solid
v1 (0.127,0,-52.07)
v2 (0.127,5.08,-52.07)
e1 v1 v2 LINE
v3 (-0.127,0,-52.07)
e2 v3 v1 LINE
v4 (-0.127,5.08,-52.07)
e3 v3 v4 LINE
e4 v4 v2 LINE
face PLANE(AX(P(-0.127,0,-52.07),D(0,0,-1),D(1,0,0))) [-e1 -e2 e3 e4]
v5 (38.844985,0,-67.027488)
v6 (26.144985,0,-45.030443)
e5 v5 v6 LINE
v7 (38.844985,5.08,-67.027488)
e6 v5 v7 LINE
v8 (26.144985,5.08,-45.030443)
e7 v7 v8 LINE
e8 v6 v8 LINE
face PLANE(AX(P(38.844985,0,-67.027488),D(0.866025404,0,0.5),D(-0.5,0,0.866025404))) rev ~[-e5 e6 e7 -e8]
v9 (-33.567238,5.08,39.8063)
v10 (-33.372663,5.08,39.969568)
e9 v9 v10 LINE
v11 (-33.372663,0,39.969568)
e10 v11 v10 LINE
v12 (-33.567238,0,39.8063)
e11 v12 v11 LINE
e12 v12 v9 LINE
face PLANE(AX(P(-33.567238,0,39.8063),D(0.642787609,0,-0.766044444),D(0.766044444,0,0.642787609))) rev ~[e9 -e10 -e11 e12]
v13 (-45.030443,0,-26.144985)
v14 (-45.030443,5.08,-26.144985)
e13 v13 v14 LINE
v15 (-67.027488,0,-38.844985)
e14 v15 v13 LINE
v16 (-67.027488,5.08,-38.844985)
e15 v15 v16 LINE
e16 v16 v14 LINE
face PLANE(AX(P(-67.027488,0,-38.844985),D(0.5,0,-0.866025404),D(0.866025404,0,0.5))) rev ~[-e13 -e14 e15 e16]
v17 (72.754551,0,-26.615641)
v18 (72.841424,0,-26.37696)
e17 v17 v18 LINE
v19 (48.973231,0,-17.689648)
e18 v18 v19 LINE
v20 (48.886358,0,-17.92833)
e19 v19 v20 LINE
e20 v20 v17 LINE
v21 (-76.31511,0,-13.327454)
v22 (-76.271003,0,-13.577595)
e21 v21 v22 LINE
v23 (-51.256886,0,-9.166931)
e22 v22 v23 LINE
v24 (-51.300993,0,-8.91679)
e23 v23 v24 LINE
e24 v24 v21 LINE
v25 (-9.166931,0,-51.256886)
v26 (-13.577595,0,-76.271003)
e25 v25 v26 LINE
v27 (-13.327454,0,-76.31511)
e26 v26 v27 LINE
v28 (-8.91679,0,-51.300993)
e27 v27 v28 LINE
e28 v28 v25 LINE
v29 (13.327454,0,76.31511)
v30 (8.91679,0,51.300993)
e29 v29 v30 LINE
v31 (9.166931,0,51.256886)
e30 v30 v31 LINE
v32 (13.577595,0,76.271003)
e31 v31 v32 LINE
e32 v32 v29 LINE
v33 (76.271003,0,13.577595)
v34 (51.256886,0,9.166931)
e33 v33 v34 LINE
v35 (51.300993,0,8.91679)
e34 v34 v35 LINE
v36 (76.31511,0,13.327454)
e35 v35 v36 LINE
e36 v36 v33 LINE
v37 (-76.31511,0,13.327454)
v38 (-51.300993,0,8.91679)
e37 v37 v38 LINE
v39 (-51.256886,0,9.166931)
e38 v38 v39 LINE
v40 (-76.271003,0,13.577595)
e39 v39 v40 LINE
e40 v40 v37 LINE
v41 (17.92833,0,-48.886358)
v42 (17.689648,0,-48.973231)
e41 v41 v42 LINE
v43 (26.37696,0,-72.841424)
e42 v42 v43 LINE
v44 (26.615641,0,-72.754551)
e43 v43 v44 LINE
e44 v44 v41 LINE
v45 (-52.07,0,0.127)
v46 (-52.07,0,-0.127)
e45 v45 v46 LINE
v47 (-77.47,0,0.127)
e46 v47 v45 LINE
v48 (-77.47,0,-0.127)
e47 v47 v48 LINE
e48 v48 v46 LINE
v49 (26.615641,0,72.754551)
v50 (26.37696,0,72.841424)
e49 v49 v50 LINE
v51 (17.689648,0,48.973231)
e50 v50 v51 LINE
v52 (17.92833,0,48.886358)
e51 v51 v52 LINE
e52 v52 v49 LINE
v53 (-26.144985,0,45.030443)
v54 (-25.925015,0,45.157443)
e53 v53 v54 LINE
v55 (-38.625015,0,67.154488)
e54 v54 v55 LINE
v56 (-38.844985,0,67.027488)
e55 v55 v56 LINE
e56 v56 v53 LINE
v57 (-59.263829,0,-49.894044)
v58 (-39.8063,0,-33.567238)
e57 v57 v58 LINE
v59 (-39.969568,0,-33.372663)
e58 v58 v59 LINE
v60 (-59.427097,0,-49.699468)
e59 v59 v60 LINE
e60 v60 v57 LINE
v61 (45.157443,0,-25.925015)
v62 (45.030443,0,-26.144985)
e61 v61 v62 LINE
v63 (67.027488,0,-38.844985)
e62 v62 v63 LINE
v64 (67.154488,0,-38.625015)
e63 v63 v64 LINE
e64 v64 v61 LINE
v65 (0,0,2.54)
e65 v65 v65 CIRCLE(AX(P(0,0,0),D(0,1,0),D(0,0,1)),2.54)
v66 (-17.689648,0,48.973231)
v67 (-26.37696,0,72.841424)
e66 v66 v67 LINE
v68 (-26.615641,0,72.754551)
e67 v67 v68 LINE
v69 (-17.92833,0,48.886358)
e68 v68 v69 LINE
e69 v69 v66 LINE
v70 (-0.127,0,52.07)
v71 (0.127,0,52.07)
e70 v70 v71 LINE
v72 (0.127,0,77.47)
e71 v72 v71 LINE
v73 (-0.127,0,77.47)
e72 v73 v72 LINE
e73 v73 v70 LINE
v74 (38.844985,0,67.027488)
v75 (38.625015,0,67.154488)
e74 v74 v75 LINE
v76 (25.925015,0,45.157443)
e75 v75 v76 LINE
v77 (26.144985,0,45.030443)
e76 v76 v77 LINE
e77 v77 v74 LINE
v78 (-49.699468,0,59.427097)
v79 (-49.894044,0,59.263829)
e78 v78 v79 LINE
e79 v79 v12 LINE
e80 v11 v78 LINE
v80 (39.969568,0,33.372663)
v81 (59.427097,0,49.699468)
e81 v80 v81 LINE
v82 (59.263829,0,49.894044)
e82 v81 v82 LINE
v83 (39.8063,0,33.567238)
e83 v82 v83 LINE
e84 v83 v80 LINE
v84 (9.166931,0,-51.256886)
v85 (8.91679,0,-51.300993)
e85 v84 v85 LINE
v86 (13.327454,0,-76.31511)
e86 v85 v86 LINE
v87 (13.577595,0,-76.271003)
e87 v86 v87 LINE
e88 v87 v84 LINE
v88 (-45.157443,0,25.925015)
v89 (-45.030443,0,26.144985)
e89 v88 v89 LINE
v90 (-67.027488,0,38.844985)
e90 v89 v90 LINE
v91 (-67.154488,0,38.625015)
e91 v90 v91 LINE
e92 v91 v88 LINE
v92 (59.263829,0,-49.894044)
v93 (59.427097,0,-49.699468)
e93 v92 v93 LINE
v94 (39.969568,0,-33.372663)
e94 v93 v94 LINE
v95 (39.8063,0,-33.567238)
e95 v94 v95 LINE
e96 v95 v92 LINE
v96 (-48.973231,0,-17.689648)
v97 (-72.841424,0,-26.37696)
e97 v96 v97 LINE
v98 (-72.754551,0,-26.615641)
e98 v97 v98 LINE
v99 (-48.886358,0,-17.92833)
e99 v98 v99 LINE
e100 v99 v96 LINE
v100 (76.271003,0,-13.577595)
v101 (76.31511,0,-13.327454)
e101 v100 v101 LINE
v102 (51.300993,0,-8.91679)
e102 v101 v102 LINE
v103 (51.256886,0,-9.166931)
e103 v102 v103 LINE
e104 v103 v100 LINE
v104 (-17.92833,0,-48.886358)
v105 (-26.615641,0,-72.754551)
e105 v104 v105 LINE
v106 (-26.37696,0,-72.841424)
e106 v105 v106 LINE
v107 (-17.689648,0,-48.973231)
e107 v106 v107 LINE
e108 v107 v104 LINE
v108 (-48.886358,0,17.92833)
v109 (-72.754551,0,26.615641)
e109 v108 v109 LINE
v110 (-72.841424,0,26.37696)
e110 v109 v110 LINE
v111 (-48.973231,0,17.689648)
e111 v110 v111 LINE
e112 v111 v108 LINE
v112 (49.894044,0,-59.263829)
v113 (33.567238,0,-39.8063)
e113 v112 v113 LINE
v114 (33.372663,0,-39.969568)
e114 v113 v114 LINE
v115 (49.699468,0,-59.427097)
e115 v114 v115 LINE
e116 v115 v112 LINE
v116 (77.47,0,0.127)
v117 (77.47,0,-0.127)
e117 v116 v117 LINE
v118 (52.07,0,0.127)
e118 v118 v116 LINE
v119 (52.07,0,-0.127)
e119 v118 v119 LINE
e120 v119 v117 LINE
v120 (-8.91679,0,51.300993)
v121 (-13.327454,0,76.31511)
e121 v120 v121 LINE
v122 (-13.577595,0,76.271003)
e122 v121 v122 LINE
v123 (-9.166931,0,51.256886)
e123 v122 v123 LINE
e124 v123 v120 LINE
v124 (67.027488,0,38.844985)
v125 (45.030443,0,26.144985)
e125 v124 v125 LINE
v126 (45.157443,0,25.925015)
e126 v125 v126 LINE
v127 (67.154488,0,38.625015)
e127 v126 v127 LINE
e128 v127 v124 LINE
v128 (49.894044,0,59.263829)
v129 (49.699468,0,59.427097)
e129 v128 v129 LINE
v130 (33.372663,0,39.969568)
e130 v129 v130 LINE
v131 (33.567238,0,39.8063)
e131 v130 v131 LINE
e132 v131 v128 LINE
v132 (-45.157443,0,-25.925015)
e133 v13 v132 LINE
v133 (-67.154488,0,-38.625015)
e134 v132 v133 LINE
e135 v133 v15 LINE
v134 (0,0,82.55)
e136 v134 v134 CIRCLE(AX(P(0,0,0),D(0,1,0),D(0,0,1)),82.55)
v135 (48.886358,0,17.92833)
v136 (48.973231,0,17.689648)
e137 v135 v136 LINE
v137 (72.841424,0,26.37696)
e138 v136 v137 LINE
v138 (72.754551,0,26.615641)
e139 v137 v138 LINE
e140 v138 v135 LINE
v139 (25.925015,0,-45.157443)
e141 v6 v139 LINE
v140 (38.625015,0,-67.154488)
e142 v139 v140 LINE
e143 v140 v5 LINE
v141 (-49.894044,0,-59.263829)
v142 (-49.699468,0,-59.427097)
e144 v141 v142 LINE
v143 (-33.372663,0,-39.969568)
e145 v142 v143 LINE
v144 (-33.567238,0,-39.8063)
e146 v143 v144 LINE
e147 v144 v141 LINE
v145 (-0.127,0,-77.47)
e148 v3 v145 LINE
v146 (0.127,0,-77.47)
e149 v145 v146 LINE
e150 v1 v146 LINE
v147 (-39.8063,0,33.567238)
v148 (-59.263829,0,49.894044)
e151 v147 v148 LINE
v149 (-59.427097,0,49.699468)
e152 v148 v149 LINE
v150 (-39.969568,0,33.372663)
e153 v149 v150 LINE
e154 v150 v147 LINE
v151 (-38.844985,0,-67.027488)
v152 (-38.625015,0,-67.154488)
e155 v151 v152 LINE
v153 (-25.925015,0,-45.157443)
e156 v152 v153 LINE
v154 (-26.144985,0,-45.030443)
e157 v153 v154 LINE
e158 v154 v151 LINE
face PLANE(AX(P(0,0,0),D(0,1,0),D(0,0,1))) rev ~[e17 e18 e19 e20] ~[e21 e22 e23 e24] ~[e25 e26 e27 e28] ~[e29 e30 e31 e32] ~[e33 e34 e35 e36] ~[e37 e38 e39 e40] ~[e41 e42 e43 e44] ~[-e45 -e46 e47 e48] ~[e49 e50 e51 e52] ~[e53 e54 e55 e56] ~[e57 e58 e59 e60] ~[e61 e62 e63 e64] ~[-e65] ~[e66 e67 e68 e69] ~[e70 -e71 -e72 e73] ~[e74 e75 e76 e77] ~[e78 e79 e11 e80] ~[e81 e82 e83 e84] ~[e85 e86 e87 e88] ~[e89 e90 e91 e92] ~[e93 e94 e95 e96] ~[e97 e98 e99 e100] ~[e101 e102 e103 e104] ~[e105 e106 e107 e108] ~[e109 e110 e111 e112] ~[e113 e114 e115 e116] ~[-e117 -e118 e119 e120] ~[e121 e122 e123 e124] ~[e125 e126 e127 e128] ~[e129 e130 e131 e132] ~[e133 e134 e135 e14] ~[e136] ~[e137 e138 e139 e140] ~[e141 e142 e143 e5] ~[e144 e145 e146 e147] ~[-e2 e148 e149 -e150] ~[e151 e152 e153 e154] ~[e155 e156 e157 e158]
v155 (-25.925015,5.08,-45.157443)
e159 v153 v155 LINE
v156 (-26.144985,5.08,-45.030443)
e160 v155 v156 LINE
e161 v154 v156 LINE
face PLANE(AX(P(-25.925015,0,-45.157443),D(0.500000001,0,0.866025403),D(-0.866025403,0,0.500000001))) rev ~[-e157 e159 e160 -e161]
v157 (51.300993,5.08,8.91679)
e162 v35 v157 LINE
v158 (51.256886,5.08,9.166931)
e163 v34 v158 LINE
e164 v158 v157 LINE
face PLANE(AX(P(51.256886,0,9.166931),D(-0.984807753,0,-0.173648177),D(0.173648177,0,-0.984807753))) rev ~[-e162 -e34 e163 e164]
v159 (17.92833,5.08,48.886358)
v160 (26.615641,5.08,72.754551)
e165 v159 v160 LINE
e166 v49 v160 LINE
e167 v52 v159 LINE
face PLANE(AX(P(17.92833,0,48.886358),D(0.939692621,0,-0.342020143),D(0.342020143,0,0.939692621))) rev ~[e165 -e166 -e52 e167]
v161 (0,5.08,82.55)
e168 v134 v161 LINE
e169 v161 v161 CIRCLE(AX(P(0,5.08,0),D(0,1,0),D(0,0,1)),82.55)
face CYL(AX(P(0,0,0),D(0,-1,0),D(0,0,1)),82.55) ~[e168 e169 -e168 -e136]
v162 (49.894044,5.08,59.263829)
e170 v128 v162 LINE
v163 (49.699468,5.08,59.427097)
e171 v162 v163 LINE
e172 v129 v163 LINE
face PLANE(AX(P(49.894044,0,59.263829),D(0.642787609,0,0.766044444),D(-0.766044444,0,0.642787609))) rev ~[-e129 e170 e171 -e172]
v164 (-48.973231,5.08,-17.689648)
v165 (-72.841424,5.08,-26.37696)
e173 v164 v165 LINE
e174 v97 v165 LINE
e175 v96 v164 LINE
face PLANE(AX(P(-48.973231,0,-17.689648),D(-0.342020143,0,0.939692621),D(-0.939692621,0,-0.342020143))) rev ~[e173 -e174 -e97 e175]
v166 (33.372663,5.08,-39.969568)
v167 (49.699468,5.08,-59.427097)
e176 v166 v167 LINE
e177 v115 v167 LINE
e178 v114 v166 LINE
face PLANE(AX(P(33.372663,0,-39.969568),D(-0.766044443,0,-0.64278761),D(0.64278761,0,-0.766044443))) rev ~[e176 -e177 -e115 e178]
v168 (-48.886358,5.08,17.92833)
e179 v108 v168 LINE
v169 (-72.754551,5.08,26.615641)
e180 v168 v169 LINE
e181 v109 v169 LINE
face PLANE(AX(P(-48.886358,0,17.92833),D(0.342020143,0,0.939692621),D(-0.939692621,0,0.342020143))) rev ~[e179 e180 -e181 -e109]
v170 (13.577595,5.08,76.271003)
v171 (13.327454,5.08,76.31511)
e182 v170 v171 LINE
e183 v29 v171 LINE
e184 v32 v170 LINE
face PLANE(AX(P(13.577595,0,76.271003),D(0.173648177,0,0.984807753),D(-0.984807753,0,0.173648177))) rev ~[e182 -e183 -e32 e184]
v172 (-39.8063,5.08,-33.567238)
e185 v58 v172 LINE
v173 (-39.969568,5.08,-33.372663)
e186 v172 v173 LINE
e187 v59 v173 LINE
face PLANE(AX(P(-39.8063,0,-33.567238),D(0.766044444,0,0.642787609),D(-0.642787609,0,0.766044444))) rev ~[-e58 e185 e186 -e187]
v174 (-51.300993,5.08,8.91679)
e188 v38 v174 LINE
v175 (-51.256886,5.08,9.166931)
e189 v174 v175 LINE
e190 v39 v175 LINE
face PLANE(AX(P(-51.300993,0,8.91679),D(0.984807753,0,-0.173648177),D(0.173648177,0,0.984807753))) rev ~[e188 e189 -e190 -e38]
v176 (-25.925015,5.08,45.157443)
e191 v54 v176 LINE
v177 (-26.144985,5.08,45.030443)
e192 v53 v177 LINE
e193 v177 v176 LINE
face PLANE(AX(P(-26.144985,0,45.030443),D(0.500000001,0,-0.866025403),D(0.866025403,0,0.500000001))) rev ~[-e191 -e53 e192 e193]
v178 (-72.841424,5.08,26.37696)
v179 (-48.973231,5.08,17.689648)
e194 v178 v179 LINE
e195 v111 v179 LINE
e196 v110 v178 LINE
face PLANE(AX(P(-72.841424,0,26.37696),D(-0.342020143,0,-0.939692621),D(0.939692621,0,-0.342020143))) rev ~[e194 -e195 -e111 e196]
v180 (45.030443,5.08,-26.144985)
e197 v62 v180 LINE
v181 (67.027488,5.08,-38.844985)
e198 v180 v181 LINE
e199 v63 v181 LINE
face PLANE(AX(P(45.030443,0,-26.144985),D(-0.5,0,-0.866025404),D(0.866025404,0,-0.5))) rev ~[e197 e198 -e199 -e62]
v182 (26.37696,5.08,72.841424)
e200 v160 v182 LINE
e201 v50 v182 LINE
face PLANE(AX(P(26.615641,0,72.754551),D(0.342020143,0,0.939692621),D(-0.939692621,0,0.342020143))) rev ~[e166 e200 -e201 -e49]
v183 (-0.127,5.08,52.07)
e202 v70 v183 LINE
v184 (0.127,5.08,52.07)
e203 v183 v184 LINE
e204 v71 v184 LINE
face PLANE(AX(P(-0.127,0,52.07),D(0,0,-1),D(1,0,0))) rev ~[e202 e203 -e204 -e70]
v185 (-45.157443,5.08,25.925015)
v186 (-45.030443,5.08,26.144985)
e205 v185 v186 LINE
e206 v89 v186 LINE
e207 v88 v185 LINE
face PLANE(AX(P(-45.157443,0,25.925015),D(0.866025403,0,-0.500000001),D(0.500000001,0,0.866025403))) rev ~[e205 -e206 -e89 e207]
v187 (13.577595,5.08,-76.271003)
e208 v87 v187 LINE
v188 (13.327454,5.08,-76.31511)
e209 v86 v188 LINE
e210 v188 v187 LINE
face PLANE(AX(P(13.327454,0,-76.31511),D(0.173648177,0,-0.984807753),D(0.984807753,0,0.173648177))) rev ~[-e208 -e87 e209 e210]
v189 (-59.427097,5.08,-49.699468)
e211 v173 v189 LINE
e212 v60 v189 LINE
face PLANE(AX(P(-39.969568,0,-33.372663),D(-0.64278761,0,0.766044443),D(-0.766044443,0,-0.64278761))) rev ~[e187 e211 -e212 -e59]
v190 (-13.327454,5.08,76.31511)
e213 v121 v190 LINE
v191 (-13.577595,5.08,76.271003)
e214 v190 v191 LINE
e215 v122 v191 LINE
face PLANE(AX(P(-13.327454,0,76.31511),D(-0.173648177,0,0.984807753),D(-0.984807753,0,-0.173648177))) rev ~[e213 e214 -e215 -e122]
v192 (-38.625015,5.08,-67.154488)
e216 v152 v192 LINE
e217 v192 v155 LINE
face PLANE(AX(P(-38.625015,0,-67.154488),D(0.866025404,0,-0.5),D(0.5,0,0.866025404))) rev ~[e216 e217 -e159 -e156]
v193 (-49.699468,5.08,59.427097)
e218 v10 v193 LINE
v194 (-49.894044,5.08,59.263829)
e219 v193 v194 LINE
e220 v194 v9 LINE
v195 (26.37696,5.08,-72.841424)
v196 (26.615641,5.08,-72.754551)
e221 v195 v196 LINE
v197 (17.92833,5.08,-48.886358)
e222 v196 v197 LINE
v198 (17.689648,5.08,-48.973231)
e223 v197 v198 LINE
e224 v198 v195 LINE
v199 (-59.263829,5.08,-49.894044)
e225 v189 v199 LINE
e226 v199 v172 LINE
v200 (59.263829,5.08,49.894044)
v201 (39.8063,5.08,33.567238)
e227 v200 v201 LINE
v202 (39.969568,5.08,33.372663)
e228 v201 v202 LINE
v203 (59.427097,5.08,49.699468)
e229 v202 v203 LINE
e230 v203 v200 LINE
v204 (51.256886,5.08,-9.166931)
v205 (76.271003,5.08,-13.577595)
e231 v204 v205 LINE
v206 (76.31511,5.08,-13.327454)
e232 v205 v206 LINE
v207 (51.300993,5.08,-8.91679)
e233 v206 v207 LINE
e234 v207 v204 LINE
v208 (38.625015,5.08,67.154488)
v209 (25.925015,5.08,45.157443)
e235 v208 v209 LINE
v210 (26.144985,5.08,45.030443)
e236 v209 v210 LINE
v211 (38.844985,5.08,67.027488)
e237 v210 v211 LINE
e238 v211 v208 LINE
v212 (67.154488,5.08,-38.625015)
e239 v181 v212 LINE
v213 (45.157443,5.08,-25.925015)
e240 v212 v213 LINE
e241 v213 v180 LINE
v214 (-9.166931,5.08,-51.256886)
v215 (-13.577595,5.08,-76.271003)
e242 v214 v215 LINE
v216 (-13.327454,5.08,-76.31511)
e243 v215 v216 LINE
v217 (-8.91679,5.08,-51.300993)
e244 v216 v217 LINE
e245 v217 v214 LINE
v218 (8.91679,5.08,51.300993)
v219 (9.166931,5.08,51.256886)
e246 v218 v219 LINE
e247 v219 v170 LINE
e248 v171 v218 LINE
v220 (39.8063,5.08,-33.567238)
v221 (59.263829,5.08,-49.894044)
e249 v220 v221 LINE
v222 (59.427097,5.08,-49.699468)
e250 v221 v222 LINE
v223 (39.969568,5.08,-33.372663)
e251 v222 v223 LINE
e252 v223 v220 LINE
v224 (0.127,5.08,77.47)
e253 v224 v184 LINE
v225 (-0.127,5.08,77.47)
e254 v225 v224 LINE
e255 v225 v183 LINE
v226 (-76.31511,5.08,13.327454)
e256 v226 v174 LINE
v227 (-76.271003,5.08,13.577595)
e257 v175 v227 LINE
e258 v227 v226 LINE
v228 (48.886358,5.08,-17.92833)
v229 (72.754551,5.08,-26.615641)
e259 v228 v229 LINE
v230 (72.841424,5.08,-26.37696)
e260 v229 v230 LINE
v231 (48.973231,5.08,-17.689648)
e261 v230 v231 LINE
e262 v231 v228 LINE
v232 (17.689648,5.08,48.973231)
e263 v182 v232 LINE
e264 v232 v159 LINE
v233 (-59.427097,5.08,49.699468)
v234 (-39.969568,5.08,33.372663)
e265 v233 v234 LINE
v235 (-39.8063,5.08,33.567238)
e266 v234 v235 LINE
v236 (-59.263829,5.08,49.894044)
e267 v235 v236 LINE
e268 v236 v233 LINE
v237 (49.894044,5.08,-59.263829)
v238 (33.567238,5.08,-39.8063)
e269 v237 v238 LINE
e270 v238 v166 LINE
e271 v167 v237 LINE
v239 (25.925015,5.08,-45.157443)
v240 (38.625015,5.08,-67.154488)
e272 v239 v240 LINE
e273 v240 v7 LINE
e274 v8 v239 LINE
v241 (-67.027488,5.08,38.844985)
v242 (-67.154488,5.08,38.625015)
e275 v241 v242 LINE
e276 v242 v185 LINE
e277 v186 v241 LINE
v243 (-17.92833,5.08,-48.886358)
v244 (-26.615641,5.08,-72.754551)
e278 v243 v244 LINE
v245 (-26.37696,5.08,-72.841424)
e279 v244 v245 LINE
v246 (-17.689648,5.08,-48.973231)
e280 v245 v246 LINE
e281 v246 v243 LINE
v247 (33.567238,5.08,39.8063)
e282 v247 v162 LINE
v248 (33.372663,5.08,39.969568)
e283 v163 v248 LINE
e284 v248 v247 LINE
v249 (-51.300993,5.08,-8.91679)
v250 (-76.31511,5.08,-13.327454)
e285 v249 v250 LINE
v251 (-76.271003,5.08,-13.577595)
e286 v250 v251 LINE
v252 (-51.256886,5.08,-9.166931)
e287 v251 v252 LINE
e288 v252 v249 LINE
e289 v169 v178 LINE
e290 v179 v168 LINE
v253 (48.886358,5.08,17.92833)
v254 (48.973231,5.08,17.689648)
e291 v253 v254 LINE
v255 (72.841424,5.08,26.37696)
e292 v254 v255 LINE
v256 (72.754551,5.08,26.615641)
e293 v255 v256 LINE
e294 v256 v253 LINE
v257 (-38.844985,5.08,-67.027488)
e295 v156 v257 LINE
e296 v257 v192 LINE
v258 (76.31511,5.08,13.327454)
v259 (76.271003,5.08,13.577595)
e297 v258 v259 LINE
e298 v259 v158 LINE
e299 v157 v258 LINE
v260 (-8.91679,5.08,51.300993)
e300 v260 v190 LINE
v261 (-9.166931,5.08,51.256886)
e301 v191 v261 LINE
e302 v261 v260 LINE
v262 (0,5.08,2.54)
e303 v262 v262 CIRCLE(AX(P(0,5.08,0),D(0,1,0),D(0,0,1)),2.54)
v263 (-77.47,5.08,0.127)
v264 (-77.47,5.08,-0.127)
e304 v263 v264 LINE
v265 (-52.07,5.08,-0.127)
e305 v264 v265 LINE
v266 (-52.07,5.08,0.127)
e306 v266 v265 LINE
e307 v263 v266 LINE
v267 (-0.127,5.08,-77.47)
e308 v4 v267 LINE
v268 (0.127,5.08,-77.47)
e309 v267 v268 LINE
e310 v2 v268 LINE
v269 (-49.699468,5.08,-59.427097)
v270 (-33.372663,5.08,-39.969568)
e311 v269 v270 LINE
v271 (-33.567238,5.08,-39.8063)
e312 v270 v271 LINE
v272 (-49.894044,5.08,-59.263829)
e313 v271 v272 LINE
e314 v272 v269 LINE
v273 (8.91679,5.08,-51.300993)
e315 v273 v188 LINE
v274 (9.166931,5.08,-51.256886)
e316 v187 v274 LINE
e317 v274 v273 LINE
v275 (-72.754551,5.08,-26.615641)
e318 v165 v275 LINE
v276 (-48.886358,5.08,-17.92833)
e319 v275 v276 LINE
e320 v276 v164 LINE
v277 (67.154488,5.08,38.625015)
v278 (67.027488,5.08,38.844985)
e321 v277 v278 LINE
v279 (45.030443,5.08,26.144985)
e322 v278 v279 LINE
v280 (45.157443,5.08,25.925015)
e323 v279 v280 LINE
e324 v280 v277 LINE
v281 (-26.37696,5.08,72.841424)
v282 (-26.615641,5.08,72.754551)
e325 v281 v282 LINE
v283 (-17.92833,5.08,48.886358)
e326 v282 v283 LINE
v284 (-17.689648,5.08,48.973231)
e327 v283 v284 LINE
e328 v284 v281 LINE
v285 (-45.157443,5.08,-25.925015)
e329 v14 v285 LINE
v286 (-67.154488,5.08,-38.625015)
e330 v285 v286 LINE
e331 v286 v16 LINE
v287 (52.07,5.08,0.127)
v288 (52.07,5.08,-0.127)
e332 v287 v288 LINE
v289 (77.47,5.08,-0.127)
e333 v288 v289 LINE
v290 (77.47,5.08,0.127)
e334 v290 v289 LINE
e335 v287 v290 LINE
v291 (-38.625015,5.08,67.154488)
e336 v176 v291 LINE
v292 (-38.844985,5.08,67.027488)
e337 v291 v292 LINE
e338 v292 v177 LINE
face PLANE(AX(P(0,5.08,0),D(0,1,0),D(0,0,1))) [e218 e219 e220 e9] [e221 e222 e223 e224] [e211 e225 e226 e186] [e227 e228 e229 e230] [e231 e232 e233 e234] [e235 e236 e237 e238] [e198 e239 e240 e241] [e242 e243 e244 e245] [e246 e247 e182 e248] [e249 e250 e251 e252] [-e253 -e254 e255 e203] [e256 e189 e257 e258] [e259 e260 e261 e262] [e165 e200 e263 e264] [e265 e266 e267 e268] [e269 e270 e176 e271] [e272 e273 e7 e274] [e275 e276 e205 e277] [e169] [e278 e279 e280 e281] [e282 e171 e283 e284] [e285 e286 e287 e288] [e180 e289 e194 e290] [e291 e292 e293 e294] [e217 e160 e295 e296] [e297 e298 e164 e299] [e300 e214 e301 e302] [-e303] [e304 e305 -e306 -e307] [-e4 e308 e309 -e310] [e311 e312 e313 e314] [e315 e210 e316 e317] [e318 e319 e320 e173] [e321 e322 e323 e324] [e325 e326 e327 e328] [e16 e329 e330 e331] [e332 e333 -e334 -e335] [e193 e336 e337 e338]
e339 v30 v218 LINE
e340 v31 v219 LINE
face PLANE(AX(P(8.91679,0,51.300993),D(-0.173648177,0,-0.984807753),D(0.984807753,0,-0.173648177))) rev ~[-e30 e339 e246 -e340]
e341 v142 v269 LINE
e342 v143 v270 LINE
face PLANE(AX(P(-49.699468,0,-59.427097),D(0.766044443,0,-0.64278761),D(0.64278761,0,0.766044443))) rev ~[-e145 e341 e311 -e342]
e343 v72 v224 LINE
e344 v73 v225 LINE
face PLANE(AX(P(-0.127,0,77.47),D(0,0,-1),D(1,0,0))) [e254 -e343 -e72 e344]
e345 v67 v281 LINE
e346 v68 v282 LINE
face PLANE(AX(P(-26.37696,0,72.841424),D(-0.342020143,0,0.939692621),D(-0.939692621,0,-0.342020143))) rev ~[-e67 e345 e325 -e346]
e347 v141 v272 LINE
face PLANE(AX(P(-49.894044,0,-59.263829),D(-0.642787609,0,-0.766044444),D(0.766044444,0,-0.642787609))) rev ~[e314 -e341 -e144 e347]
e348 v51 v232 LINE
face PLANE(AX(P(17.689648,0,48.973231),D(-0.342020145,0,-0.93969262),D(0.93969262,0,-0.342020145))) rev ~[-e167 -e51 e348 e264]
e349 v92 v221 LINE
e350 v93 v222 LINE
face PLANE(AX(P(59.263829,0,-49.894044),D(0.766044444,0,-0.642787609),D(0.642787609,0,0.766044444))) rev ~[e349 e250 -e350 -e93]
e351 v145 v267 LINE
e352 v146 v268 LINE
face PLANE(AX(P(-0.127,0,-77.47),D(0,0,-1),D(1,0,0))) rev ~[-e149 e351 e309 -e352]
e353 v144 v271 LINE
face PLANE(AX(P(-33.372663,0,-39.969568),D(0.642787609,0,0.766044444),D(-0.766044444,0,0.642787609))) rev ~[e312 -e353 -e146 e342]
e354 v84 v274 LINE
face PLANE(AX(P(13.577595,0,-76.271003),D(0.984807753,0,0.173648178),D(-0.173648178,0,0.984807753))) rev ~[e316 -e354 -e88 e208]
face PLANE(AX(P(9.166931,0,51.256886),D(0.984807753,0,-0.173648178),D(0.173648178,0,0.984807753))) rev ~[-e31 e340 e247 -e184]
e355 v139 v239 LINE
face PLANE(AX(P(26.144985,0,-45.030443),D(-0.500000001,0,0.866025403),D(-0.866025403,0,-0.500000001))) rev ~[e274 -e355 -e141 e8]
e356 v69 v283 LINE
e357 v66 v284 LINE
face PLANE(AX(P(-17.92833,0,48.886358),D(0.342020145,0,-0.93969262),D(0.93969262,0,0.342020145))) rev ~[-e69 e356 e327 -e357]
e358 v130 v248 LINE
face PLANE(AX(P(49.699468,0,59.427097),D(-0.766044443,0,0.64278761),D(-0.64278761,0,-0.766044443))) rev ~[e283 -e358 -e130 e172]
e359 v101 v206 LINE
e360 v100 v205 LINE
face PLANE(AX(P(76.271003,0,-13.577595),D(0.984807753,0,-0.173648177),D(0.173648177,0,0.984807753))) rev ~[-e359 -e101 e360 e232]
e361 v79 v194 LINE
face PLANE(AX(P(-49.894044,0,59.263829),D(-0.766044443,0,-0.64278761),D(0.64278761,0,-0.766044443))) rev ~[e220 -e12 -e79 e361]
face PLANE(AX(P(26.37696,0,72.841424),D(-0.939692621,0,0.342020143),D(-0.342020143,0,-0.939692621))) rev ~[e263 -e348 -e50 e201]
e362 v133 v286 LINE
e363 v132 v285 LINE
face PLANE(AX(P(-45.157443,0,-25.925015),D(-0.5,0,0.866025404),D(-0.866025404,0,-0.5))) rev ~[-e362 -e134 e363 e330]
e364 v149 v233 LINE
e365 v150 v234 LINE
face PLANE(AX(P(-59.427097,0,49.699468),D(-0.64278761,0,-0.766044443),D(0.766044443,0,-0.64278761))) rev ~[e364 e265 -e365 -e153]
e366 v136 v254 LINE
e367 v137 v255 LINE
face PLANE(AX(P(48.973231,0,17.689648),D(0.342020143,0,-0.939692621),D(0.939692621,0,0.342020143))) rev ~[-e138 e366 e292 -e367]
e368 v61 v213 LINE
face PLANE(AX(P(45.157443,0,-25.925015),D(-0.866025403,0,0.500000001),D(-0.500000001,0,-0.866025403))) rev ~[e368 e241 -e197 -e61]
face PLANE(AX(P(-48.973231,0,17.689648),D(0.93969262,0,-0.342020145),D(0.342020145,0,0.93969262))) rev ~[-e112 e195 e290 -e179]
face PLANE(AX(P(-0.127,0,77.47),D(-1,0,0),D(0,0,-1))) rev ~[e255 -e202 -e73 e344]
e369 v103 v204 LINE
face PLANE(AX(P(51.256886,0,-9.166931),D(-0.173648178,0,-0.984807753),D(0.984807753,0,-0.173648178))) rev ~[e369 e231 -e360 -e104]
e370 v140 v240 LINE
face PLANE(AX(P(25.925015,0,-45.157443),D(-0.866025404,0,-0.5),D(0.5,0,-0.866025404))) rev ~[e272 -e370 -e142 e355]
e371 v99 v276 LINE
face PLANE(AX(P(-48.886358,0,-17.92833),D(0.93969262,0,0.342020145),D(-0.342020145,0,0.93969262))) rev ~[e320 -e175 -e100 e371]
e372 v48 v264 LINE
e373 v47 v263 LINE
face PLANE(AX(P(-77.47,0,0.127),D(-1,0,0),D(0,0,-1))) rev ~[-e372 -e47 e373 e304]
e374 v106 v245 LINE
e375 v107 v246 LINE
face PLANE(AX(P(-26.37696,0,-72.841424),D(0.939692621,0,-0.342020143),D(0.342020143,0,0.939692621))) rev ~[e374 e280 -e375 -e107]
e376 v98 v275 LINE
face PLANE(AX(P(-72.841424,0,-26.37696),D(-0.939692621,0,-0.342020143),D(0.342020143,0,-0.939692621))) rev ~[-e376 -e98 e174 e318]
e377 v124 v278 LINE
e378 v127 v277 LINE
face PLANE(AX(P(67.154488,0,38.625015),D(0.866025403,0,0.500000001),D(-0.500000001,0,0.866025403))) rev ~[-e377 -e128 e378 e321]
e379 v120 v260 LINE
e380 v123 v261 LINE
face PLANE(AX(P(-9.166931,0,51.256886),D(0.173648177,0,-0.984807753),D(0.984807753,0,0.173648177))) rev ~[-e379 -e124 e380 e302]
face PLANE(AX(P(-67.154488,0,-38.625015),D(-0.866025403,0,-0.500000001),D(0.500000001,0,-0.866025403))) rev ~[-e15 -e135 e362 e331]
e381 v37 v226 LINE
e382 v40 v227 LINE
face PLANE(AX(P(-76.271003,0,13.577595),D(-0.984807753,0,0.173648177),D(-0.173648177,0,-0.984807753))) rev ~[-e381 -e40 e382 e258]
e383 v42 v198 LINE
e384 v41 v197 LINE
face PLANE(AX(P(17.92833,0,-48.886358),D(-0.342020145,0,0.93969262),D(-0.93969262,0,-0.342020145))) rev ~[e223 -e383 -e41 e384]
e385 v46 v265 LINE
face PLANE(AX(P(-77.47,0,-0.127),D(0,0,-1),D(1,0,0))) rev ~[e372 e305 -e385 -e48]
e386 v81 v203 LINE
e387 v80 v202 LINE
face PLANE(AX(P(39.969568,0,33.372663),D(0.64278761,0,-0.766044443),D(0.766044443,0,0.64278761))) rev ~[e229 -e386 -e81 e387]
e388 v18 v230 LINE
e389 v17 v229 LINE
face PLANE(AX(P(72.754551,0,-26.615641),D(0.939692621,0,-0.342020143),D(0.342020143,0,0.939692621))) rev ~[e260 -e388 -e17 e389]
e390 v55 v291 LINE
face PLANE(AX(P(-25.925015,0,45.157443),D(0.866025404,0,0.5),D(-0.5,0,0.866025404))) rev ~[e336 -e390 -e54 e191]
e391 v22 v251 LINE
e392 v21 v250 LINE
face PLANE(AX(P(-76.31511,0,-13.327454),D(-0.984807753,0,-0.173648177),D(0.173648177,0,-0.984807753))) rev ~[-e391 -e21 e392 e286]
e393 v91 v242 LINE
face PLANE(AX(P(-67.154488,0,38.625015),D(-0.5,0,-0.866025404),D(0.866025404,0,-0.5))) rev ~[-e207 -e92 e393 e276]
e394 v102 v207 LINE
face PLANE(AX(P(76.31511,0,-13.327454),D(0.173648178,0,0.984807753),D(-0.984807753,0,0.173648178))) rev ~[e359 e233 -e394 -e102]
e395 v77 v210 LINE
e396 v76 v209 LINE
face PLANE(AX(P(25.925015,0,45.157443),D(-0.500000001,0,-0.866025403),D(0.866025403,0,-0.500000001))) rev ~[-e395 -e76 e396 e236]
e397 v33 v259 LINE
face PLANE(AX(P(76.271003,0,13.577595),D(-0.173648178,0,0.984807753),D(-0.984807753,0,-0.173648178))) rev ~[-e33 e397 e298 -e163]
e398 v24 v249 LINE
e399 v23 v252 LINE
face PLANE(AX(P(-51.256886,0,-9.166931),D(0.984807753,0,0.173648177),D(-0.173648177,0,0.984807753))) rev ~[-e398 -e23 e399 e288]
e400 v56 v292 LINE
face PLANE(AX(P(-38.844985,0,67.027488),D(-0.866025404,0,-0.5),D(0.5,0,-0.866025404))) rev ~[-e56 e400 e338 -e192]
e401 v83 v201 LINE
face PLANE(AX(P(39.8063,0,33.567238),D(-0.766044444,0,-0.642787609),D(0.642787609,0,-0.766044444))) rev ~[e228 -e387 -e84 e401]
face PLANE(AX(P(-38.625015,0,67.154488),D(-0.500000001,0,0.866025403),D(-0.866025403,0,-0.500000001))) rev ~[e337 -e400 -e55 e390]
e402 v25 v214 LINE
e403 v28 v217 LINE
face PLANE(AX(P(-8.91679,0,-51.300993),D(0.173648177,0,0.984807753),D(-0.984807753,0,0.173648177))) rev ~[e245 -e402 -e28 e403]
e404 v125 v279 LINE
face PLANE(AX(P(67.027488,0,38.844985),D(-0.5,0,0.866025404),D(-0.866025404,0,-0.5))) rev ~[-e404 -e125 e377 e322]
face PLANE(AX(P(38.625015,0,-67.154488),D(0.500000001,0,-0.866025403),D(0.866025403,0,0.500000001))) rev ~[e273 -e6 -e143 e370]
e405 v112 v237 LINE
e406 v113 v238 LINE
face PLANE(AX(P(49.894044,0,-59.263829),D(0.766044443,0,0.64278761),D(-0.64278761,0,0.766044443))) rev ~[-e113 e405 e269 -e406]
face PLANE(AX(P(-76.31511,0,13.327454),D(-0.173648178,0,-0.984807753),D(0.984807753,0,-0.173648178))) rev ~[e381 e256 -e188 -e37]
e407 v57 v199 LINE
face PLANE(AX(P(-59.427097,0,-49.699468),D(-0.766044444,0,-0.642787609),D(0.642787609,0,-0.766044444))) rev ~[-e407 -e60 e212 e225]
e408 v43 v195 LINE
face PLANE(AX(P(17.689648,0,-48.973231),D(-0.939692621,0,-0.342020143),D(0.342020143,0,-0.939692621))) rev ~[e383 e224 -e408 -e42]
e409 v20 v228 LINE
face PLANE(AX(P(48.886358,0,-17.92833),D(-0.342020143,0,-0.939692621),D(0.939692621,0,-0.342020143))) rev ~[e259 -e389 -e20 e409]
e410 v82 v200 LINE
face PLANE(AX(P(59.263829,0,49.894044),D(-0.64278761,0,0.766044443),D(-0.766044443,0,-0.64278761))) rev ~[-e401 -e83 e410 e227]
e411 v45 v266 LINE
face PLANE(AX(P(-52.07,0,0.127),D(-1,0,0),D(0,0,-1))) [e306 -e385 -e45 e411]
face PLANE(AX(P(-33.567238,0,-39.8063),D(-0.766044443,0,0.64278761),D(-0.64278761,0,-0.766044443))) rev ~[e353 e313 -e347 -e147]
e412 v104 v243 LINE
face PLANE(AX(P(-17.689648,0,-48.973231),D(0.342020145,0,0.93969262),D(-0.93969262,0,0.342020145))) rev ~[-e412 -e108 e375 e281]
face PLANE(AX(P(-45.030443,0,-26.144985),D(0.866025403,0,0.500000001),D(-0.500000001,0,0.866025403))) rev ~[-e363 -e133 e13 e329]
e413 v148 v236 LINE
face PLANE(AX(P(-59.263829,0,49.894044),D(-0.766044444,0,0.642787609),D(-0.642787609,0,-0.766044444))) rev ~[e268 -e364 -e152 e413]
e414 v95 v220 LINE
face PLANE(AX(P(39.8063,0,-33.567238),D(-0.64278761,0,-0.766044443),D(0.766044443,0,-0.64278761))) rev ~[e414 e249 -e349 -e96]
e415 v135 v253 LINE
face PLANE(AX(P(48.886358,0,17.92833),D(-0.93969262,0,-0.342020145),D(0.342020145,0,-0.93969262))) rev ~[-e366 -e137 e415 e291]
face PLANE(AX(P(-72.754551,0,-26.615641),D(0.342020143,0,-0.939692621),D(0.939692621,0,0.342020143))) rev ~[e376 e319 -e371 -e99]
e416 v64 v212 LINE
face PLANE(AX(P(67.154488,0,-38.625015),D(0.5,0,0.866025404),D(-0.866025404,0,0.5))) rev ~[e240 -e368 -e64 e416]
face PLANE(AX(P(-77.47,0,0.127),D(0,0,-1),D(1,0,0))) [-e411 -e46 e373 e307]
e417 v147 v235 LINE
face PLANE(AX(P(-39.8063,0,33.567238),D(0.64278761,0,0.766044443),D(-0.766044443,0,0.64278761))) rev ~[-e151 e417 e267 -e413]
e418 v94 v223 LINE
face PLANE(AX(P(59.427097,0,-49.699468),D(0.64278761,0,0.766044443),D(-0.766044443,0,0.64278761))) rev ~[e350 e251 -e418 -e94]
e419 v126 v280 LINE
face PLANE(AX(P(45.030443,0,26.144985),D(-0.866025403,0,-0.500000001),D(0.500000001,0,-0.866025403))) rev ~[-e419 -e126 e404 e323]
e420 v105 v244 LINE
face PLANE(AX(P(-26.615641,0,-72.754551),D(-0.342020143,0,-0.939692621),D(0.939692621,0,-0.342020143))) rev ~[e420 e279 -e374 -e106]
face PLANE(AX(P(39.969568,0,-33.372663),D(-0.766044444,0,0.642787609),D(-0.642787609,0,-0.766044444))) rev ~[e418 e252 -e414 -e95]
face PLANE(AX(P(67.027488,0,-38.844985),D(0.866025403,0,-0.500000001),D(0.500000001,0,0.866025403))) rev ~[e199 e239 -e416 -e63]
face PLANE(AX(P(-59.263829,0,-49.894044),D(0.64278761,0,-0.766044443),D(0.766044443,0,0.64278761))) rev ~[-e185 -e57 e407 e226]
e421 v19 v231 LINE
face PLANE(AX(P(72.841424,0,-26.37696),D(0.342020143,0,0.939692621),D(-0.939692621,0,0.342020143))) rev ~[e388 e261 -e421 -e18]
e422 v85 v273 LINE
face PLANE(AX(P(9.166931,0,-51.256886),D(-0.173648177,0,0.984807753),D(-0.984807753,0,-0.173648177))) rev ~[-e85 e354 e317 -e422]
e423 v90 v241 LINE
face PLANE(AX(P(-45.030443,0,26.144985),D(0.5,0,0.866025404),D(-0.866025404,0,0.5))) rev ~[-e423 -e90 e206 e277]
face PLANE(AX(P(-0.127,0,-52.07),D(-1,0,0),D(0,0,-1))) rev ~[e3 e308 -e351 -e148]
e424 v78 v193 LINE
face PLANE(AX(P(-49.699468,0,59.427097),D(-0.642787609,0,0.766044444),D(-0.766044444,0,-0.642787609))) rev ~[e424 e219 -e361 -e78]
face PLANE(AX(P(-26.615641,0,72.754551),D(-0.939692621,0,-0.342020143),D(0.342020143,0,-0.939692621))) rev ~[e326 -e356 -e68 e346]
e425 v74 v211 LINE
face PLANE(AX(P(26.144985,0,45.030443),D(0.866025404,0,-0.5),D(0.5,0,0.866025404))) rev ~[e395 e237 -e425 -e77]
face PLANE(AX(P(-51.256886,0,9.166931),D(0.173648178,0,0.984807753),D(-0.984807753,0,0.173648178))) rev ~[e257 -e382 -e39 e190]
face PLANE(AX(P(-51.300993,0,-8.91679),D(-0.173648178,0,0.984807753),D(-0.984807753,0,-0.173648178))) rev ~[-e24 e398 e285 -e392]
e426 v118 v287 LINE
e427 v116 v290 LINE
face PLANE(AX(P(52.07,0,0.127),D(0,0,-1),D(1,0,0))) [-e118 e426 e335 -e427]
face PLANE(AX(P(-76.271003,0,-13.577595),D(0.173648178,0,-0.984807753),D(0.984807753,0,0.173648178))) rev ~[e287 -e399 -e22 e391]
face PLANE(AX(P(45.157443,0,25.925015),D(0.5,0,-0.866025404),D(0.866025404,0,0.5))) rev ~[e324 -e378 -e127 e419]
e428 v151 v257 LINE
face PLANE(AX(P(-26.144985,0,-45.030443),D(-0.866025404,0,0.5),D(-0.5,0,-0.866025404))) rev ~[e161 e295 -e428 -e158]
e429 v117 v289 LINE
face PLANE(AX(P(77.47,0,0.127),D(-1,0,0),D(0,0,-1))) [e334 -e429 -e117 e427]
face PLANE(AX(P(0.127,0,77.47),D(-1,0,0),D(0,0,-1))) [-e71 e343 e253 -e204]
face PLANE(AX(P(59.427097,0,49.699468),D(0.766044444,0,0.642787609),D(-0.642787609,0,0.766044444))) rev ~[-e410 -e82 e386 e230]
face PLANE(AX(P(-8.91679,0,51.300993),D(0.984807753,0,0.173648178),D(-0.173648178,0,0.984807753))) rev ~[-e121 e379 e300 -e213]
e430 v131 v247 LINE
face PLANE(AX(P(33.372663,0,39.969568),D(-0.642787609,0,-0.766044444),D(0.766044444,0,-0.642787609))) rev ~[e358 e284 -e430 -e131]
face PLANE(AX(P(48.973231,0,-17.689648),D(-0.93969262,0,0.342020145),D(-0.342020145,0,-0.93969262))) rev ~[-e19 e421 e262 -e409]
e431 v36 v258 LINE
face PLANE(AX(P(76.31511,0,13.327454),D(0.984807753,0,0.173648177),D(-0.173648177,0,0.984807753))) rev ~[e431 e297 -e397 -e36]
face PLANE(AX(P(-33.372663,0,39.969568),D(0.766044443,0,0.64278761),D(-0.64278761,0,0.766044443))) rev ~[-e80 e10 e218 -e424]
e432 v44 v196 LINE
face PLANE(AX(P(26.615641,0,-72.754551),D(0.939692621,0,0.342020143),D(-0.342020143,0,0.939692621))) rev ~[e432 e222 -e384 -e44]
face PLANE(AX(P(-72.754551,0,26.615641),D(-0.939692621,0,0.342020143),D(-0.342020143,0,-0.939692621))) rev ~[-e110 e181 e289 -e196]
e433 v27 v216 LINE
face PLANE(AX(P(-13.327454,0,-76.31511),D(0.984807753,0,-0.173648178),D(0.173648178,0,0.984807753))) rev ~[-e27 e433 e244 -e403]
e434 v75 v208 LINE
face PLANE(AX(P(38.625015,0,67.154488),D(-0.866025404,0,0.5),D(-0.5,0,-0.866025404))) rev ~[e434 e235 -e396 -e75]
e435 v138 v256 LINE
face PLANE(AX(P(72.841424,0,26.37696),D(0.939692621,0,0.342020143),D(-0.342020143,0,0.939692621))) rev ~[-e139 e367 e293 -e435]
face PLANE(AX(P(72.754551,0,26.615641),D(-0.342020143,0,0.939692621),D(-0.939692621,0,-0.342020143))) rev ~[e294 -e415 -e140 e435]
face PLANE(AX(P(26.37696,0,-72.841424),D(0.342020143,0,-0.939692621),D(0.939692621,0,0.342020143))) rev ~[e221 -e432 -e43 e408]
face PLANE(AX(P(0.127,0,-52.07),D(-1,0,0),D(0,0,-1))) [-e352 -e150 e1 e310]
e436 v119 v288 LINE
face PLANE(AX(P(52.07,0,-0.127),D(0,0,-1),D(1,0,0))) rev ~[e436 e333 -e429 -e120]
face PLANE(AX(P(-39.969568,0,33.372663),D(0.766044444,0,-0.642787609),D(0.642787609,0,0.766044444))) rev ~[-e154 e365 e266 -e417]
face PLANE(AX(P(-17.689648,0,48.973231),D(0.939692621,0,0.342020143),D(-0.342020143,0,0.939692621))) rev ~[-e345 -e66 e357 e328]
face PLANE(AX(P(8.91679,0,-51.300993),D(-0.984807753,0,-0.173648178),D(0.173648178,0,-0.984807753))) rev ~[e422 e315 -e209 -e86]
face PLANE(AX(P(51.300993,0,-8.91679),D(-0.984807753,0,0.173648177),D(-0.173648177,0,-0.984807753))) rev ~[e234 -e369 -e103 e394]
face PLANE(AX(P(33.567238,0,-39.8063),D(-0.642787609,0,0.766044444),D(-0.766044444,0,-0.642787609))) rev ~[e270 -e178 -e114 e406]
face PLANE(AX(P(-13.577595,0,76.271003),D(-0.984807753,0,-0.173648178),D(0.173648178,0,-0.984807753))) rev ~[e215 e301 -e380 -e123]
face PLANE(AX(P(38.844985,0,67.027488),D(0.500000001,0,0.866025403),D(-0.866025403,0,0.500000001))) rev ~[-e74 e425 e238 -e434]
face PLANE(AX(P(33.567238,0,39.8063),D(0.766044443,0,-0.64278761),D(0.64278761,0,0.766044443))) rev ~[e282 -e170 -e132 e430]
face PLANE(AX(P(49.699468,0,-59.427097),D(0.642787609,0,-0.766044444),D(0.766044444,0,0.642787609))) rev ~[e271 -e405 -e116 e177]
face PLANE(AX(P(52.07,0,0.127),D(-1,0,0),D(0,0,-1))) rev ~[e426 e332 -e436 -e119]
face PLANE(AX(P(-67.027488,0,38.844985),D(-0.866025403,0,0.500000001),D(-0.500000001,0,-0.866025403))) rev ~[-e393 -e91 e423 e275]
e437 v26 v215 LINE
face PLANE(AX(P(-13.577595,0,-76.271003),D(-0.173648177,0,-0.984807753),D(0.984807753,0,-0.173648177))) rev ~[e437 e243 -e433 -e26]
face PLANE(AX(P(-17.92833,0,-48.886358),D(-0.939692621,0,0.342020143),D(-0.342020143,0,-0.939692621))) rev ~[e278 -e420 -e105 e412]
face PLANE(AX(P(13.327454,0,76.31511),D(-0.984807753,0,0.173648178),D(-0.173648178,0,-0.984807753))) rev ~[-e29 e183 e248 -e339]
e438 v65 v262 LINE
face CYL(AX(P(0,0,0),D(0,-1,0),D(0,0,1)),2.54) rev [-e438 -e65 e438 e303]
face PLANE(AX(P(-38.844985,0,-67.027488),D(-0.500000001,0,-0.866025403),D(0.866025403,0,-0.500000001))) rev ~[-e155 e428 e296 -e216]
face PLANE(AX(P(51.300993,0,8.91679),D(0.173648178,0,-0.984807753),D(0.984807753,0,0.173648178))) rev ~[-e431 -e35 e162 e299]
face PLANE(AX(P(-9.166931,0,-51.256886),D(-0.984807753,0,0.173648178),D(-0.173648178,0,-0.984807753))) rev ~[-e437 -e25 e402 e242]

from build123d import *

# Parameters (mm, degrees)
SKETCH1_R           = 82.55
SKETCH1_R_2         = 2.54
SKETCH1_W           = 0.254
SKETCH1_H           = 25.4
SKETCH1_W_2         = 25.4
SKETCH1_H_2         = 0.254
BOSS_EXTRUDE1_DEPTH = 5.08


with BuildPart() as part:
    # Sketch1 → Boss-Extrude1 (new body)
    with BuildSketch(Plane(origin=(0, 0, 0), x_dir=(1, 0, 0), z_dir=(0, 1, 0))):
        with Locations(Location((0, 0, 0), (0, 0, 270))):
            Circle(SKETCH1_R)
        with Locations(Location((0, 0, 0), (0, 0, 270))):
            Circle(SKETCH1_R_2, mode=Mode.SUBTRACT)
        Polygon((13.327453739, 76.315109944), (13.577594908, 76.271003307), (9.166931196, 51.256886381), (8.916790026, 51.300993018), align=None, mode=Mode.SUBTRACT)
        with Locations((0, 64.77)):
            Rectangle(SKETCH1_W, SKETCH1_H, mode=Mode.SUBTRACT)
        Polygon((26.376959541, 72.84142389), (26.615641466, 72.754550774), (17.928329826, 48.886358206), (17.6896479, 48.973231323), align=None, mode=Mode.SUBTRACT)
        Polygon((38.625014774, 67.154488031), (38.844985226, 67.027488031), (26.144985226, 45.030442775), (25.925014774, 45.157442775), align=None, mode=Mode.SUBTRACT)
        Polygon((49.699468478, 59.427097035), (49.894043767, 59.263828982), (33.567238481, 39.806300127), (33.372663192, 39.96956818), align=None, mode=Mode.SUBTRACT)
        Polygon((59.263828982, 49.894043767), (59.427097035, 49.699468478), (39.96956818, 33.372663192), (39.806300127, 33.567238481), align=None, mode=Mode.SUBTRACT)
        Polygon((67.027488031, 38.844985226), (67.154488031, 38.625014774), (45.157442775, 25.925014774), (45.030442775, 26.144985226), align=None, mode=Mode.SUBTRACT)
        Polygon((72.754550774, 26.615641466), (72.84142389, 26.376959541), (48.973231323, 17.6896479), (48.886358206, 17.928329826), align=None, mode=Mode.SUBTRACT)
        Polygon((76.271003307, 13.577594908), (76.315109944, 13.327453739), (51.300993018, 8.916790026), (51.256886381, 9.166931196), align=None, mode=Mode.SUBTRACT)
        with Locations((64.77, 0)):
            Rectangle(SKETCH1_W_2, SKETCH1_H_2, mode=Mode.SUBTRACT)
        Polygon((76.315109944, -13.327453739), (76.271003307, -13.577594908), (51.256886381, -9.166931196), (51.300993018, -8.916790026), align=None, mode=Mode.SUBTRACT)
        Polygon((72.84142389, -26.376959541), (72.754550774, -26.615641466), (48.886358206, -17.928329826), (48.973231323, -17.6896479), align=None, mode=Mode.SUBTRACT)
        Polygon((67.154488031, -38.625014774), (67.027488031, -38.844985226), (45.030442775, -26.144985226), (45.157442775, -25.925014774), align=None, mode=Mode.SUBTRACT)
        Polygon((59.427097035, -49.699468478), (59.263828982, -49.894043767), (39.806300127, -33.567238481), (39.96956818, -33.372663192), align=None, mode=Mode.SUBTRACT)
        Polygon((49.894043767, -59.263828982), (49.699468478, -59.427097035), (33.372663192, -39.96956818), (33.567238481, -39.806300127), align=None, mode=Mode.SUBTRACT)
        Polygon((38.844985226, -67.027488031), (38.625014774, -67.154488031), (25.925014774, -45.157442775), (26.144985226, -45.030442775), align=None, mode=Mode.SUBTRACT)
        Polygon((26.615641466, -72.754550774), (26.376959541, -72.84142389), (17.6896479, -48.973231323), (17.928329826, -48.886358206), align=None, mode=Mode.SUBTRACT)
        Polygon((13.577594908, -76.271003307), (13.327453739, -76.315109944), (8.916790026, -51.300993018), (9.166931196, -51.256886381), align=None, mode=Mode.SUBTRACT)
        with Locations((0, -64.77)):
            Rectangle(SKETCH1_W, SKETCH1_H, mode=Mode.SUBTRACT)
        Polygon((-13.327453739, -76.315109944), (-13.577594908, -76.271003307), (-9.166931196, -51.256886381), (-8.916790026, -51.300993018), align=None, mode=Mode.SUBTRACT)
        Polygon((-26.376959541, -72.84142389), (-26.615641466, -72.754550774), (-17.928329826, -48.886358206), (-17.6896479, -48.973231323), align=None, mode=Mode.SUBTRACT)
        Polygon((-38.625014774, -67.154488031), (-38.844985226, -67.027488031), (-26.144985226, -45.030442775), (-25.925014774, -45.157442775), align=None, mode=Mode.SUBTRACT)
        Polygon((-49.699468478, -59.427097035), (-49.894043767, -59.263828982), (-33.567238481, -39.806300127), (-33.372663192, -39.96956818), align=None, mode=Mode.SUBTRACT)
        Polygon((-59.263828982, -49.894043767), (-59.427097035, -49.699468478), (-39.96956818, -33.372663192), (-39.806300127, -33.567238481), align=None, mode=Mode.SUBTRACT)
        Polygon((-67.027488031, -38.844985226), (-67.154488031, -38.625014774), (-45.157442775, -25.925014774), (-45.030442775, -26.144985226), align=None, mode=Mode.SUBTRACT)
        Polygon((-72.754550774, -26.615641466), (-72.84142389, -26.376959541), (-48.973231323, -17.6896479), (-48.886358206, -17.928329826), align=None, mode=Mode.SUBTRACT)
        Polygon((-76.271003307, -13.577594908), (-76.315109944, -13.327453739), (-51.300993018, -8.916790026), (-51.256886381, -9.166931196), align=None, mode=Mode.SUBTRACT)
        with Locations((-64.77, 0)):
            Rectangle(SKETCH1_W_2, SKETCH1_H_2, mode=Mode.SUBTRACT)
        Polygon((-76.315109944, 13.327453739), (-76.271003307, 13.577594908), (-51.256886381, 9.166931196), (-51.300993018, 8.916790026), align=None, mode=Mode.SUBTRACT)
        Polygon((-72.84142389, 26.376959541), (-72.754550774, 26.615641466), (-48.886358206, 17.928329826), (-48.973231323, 17.6896479), align=None, mode=Mode.SUBTRACT)
        Polygon((-67.154488031, 38.625014774), (-67.027488031, 38.844985226), (-45.030442775, 26.144985226), (-45.157442775, 25.925014774), align=None, mode=Mode.SUBTRACT)
        Polygon((-59.427097035, 49.699468478), (-59.263828982, 49.894043767), (-39.806300127, 33.567238481), (-39.96956818, 33.372663192), align=None, mode=Mode.SUBTRACT)
        Polygon((-49.894043767, 59.263828982), (-49.699468478, 59.427097035), (-33.372663192, 39.96956818), (-33.567238481, 39.806300127), align=None, mode=Mode.SUBTRACT)
        Polygon((-38.844985226, 67.027488031), (-38.625014774, 67.154488031), (-25.925014774, 45.157442775), (-26.144985226, 45.030442775), align=None, mode=Mode.SUBTRACT)
        Polygon((-26.615641466, 72.754550774), (-26.376959541, 72.84142389), (-17.6896479, 48.973231323), (-17.928329826, 48.886358206), align=None, mode=Mode.SUBTRACT)
        Polygon((-13.577594908, 76.271003307), (-13.327453739, 76.315109944), (-8.916790026, 51.300993018), (-9.166931196, 51.256886381), align=None, mode=Mode.SUBTRACT)
    extrude(amount=BOSS_EXTRUDE1_DEPTH)


solid = part.part
